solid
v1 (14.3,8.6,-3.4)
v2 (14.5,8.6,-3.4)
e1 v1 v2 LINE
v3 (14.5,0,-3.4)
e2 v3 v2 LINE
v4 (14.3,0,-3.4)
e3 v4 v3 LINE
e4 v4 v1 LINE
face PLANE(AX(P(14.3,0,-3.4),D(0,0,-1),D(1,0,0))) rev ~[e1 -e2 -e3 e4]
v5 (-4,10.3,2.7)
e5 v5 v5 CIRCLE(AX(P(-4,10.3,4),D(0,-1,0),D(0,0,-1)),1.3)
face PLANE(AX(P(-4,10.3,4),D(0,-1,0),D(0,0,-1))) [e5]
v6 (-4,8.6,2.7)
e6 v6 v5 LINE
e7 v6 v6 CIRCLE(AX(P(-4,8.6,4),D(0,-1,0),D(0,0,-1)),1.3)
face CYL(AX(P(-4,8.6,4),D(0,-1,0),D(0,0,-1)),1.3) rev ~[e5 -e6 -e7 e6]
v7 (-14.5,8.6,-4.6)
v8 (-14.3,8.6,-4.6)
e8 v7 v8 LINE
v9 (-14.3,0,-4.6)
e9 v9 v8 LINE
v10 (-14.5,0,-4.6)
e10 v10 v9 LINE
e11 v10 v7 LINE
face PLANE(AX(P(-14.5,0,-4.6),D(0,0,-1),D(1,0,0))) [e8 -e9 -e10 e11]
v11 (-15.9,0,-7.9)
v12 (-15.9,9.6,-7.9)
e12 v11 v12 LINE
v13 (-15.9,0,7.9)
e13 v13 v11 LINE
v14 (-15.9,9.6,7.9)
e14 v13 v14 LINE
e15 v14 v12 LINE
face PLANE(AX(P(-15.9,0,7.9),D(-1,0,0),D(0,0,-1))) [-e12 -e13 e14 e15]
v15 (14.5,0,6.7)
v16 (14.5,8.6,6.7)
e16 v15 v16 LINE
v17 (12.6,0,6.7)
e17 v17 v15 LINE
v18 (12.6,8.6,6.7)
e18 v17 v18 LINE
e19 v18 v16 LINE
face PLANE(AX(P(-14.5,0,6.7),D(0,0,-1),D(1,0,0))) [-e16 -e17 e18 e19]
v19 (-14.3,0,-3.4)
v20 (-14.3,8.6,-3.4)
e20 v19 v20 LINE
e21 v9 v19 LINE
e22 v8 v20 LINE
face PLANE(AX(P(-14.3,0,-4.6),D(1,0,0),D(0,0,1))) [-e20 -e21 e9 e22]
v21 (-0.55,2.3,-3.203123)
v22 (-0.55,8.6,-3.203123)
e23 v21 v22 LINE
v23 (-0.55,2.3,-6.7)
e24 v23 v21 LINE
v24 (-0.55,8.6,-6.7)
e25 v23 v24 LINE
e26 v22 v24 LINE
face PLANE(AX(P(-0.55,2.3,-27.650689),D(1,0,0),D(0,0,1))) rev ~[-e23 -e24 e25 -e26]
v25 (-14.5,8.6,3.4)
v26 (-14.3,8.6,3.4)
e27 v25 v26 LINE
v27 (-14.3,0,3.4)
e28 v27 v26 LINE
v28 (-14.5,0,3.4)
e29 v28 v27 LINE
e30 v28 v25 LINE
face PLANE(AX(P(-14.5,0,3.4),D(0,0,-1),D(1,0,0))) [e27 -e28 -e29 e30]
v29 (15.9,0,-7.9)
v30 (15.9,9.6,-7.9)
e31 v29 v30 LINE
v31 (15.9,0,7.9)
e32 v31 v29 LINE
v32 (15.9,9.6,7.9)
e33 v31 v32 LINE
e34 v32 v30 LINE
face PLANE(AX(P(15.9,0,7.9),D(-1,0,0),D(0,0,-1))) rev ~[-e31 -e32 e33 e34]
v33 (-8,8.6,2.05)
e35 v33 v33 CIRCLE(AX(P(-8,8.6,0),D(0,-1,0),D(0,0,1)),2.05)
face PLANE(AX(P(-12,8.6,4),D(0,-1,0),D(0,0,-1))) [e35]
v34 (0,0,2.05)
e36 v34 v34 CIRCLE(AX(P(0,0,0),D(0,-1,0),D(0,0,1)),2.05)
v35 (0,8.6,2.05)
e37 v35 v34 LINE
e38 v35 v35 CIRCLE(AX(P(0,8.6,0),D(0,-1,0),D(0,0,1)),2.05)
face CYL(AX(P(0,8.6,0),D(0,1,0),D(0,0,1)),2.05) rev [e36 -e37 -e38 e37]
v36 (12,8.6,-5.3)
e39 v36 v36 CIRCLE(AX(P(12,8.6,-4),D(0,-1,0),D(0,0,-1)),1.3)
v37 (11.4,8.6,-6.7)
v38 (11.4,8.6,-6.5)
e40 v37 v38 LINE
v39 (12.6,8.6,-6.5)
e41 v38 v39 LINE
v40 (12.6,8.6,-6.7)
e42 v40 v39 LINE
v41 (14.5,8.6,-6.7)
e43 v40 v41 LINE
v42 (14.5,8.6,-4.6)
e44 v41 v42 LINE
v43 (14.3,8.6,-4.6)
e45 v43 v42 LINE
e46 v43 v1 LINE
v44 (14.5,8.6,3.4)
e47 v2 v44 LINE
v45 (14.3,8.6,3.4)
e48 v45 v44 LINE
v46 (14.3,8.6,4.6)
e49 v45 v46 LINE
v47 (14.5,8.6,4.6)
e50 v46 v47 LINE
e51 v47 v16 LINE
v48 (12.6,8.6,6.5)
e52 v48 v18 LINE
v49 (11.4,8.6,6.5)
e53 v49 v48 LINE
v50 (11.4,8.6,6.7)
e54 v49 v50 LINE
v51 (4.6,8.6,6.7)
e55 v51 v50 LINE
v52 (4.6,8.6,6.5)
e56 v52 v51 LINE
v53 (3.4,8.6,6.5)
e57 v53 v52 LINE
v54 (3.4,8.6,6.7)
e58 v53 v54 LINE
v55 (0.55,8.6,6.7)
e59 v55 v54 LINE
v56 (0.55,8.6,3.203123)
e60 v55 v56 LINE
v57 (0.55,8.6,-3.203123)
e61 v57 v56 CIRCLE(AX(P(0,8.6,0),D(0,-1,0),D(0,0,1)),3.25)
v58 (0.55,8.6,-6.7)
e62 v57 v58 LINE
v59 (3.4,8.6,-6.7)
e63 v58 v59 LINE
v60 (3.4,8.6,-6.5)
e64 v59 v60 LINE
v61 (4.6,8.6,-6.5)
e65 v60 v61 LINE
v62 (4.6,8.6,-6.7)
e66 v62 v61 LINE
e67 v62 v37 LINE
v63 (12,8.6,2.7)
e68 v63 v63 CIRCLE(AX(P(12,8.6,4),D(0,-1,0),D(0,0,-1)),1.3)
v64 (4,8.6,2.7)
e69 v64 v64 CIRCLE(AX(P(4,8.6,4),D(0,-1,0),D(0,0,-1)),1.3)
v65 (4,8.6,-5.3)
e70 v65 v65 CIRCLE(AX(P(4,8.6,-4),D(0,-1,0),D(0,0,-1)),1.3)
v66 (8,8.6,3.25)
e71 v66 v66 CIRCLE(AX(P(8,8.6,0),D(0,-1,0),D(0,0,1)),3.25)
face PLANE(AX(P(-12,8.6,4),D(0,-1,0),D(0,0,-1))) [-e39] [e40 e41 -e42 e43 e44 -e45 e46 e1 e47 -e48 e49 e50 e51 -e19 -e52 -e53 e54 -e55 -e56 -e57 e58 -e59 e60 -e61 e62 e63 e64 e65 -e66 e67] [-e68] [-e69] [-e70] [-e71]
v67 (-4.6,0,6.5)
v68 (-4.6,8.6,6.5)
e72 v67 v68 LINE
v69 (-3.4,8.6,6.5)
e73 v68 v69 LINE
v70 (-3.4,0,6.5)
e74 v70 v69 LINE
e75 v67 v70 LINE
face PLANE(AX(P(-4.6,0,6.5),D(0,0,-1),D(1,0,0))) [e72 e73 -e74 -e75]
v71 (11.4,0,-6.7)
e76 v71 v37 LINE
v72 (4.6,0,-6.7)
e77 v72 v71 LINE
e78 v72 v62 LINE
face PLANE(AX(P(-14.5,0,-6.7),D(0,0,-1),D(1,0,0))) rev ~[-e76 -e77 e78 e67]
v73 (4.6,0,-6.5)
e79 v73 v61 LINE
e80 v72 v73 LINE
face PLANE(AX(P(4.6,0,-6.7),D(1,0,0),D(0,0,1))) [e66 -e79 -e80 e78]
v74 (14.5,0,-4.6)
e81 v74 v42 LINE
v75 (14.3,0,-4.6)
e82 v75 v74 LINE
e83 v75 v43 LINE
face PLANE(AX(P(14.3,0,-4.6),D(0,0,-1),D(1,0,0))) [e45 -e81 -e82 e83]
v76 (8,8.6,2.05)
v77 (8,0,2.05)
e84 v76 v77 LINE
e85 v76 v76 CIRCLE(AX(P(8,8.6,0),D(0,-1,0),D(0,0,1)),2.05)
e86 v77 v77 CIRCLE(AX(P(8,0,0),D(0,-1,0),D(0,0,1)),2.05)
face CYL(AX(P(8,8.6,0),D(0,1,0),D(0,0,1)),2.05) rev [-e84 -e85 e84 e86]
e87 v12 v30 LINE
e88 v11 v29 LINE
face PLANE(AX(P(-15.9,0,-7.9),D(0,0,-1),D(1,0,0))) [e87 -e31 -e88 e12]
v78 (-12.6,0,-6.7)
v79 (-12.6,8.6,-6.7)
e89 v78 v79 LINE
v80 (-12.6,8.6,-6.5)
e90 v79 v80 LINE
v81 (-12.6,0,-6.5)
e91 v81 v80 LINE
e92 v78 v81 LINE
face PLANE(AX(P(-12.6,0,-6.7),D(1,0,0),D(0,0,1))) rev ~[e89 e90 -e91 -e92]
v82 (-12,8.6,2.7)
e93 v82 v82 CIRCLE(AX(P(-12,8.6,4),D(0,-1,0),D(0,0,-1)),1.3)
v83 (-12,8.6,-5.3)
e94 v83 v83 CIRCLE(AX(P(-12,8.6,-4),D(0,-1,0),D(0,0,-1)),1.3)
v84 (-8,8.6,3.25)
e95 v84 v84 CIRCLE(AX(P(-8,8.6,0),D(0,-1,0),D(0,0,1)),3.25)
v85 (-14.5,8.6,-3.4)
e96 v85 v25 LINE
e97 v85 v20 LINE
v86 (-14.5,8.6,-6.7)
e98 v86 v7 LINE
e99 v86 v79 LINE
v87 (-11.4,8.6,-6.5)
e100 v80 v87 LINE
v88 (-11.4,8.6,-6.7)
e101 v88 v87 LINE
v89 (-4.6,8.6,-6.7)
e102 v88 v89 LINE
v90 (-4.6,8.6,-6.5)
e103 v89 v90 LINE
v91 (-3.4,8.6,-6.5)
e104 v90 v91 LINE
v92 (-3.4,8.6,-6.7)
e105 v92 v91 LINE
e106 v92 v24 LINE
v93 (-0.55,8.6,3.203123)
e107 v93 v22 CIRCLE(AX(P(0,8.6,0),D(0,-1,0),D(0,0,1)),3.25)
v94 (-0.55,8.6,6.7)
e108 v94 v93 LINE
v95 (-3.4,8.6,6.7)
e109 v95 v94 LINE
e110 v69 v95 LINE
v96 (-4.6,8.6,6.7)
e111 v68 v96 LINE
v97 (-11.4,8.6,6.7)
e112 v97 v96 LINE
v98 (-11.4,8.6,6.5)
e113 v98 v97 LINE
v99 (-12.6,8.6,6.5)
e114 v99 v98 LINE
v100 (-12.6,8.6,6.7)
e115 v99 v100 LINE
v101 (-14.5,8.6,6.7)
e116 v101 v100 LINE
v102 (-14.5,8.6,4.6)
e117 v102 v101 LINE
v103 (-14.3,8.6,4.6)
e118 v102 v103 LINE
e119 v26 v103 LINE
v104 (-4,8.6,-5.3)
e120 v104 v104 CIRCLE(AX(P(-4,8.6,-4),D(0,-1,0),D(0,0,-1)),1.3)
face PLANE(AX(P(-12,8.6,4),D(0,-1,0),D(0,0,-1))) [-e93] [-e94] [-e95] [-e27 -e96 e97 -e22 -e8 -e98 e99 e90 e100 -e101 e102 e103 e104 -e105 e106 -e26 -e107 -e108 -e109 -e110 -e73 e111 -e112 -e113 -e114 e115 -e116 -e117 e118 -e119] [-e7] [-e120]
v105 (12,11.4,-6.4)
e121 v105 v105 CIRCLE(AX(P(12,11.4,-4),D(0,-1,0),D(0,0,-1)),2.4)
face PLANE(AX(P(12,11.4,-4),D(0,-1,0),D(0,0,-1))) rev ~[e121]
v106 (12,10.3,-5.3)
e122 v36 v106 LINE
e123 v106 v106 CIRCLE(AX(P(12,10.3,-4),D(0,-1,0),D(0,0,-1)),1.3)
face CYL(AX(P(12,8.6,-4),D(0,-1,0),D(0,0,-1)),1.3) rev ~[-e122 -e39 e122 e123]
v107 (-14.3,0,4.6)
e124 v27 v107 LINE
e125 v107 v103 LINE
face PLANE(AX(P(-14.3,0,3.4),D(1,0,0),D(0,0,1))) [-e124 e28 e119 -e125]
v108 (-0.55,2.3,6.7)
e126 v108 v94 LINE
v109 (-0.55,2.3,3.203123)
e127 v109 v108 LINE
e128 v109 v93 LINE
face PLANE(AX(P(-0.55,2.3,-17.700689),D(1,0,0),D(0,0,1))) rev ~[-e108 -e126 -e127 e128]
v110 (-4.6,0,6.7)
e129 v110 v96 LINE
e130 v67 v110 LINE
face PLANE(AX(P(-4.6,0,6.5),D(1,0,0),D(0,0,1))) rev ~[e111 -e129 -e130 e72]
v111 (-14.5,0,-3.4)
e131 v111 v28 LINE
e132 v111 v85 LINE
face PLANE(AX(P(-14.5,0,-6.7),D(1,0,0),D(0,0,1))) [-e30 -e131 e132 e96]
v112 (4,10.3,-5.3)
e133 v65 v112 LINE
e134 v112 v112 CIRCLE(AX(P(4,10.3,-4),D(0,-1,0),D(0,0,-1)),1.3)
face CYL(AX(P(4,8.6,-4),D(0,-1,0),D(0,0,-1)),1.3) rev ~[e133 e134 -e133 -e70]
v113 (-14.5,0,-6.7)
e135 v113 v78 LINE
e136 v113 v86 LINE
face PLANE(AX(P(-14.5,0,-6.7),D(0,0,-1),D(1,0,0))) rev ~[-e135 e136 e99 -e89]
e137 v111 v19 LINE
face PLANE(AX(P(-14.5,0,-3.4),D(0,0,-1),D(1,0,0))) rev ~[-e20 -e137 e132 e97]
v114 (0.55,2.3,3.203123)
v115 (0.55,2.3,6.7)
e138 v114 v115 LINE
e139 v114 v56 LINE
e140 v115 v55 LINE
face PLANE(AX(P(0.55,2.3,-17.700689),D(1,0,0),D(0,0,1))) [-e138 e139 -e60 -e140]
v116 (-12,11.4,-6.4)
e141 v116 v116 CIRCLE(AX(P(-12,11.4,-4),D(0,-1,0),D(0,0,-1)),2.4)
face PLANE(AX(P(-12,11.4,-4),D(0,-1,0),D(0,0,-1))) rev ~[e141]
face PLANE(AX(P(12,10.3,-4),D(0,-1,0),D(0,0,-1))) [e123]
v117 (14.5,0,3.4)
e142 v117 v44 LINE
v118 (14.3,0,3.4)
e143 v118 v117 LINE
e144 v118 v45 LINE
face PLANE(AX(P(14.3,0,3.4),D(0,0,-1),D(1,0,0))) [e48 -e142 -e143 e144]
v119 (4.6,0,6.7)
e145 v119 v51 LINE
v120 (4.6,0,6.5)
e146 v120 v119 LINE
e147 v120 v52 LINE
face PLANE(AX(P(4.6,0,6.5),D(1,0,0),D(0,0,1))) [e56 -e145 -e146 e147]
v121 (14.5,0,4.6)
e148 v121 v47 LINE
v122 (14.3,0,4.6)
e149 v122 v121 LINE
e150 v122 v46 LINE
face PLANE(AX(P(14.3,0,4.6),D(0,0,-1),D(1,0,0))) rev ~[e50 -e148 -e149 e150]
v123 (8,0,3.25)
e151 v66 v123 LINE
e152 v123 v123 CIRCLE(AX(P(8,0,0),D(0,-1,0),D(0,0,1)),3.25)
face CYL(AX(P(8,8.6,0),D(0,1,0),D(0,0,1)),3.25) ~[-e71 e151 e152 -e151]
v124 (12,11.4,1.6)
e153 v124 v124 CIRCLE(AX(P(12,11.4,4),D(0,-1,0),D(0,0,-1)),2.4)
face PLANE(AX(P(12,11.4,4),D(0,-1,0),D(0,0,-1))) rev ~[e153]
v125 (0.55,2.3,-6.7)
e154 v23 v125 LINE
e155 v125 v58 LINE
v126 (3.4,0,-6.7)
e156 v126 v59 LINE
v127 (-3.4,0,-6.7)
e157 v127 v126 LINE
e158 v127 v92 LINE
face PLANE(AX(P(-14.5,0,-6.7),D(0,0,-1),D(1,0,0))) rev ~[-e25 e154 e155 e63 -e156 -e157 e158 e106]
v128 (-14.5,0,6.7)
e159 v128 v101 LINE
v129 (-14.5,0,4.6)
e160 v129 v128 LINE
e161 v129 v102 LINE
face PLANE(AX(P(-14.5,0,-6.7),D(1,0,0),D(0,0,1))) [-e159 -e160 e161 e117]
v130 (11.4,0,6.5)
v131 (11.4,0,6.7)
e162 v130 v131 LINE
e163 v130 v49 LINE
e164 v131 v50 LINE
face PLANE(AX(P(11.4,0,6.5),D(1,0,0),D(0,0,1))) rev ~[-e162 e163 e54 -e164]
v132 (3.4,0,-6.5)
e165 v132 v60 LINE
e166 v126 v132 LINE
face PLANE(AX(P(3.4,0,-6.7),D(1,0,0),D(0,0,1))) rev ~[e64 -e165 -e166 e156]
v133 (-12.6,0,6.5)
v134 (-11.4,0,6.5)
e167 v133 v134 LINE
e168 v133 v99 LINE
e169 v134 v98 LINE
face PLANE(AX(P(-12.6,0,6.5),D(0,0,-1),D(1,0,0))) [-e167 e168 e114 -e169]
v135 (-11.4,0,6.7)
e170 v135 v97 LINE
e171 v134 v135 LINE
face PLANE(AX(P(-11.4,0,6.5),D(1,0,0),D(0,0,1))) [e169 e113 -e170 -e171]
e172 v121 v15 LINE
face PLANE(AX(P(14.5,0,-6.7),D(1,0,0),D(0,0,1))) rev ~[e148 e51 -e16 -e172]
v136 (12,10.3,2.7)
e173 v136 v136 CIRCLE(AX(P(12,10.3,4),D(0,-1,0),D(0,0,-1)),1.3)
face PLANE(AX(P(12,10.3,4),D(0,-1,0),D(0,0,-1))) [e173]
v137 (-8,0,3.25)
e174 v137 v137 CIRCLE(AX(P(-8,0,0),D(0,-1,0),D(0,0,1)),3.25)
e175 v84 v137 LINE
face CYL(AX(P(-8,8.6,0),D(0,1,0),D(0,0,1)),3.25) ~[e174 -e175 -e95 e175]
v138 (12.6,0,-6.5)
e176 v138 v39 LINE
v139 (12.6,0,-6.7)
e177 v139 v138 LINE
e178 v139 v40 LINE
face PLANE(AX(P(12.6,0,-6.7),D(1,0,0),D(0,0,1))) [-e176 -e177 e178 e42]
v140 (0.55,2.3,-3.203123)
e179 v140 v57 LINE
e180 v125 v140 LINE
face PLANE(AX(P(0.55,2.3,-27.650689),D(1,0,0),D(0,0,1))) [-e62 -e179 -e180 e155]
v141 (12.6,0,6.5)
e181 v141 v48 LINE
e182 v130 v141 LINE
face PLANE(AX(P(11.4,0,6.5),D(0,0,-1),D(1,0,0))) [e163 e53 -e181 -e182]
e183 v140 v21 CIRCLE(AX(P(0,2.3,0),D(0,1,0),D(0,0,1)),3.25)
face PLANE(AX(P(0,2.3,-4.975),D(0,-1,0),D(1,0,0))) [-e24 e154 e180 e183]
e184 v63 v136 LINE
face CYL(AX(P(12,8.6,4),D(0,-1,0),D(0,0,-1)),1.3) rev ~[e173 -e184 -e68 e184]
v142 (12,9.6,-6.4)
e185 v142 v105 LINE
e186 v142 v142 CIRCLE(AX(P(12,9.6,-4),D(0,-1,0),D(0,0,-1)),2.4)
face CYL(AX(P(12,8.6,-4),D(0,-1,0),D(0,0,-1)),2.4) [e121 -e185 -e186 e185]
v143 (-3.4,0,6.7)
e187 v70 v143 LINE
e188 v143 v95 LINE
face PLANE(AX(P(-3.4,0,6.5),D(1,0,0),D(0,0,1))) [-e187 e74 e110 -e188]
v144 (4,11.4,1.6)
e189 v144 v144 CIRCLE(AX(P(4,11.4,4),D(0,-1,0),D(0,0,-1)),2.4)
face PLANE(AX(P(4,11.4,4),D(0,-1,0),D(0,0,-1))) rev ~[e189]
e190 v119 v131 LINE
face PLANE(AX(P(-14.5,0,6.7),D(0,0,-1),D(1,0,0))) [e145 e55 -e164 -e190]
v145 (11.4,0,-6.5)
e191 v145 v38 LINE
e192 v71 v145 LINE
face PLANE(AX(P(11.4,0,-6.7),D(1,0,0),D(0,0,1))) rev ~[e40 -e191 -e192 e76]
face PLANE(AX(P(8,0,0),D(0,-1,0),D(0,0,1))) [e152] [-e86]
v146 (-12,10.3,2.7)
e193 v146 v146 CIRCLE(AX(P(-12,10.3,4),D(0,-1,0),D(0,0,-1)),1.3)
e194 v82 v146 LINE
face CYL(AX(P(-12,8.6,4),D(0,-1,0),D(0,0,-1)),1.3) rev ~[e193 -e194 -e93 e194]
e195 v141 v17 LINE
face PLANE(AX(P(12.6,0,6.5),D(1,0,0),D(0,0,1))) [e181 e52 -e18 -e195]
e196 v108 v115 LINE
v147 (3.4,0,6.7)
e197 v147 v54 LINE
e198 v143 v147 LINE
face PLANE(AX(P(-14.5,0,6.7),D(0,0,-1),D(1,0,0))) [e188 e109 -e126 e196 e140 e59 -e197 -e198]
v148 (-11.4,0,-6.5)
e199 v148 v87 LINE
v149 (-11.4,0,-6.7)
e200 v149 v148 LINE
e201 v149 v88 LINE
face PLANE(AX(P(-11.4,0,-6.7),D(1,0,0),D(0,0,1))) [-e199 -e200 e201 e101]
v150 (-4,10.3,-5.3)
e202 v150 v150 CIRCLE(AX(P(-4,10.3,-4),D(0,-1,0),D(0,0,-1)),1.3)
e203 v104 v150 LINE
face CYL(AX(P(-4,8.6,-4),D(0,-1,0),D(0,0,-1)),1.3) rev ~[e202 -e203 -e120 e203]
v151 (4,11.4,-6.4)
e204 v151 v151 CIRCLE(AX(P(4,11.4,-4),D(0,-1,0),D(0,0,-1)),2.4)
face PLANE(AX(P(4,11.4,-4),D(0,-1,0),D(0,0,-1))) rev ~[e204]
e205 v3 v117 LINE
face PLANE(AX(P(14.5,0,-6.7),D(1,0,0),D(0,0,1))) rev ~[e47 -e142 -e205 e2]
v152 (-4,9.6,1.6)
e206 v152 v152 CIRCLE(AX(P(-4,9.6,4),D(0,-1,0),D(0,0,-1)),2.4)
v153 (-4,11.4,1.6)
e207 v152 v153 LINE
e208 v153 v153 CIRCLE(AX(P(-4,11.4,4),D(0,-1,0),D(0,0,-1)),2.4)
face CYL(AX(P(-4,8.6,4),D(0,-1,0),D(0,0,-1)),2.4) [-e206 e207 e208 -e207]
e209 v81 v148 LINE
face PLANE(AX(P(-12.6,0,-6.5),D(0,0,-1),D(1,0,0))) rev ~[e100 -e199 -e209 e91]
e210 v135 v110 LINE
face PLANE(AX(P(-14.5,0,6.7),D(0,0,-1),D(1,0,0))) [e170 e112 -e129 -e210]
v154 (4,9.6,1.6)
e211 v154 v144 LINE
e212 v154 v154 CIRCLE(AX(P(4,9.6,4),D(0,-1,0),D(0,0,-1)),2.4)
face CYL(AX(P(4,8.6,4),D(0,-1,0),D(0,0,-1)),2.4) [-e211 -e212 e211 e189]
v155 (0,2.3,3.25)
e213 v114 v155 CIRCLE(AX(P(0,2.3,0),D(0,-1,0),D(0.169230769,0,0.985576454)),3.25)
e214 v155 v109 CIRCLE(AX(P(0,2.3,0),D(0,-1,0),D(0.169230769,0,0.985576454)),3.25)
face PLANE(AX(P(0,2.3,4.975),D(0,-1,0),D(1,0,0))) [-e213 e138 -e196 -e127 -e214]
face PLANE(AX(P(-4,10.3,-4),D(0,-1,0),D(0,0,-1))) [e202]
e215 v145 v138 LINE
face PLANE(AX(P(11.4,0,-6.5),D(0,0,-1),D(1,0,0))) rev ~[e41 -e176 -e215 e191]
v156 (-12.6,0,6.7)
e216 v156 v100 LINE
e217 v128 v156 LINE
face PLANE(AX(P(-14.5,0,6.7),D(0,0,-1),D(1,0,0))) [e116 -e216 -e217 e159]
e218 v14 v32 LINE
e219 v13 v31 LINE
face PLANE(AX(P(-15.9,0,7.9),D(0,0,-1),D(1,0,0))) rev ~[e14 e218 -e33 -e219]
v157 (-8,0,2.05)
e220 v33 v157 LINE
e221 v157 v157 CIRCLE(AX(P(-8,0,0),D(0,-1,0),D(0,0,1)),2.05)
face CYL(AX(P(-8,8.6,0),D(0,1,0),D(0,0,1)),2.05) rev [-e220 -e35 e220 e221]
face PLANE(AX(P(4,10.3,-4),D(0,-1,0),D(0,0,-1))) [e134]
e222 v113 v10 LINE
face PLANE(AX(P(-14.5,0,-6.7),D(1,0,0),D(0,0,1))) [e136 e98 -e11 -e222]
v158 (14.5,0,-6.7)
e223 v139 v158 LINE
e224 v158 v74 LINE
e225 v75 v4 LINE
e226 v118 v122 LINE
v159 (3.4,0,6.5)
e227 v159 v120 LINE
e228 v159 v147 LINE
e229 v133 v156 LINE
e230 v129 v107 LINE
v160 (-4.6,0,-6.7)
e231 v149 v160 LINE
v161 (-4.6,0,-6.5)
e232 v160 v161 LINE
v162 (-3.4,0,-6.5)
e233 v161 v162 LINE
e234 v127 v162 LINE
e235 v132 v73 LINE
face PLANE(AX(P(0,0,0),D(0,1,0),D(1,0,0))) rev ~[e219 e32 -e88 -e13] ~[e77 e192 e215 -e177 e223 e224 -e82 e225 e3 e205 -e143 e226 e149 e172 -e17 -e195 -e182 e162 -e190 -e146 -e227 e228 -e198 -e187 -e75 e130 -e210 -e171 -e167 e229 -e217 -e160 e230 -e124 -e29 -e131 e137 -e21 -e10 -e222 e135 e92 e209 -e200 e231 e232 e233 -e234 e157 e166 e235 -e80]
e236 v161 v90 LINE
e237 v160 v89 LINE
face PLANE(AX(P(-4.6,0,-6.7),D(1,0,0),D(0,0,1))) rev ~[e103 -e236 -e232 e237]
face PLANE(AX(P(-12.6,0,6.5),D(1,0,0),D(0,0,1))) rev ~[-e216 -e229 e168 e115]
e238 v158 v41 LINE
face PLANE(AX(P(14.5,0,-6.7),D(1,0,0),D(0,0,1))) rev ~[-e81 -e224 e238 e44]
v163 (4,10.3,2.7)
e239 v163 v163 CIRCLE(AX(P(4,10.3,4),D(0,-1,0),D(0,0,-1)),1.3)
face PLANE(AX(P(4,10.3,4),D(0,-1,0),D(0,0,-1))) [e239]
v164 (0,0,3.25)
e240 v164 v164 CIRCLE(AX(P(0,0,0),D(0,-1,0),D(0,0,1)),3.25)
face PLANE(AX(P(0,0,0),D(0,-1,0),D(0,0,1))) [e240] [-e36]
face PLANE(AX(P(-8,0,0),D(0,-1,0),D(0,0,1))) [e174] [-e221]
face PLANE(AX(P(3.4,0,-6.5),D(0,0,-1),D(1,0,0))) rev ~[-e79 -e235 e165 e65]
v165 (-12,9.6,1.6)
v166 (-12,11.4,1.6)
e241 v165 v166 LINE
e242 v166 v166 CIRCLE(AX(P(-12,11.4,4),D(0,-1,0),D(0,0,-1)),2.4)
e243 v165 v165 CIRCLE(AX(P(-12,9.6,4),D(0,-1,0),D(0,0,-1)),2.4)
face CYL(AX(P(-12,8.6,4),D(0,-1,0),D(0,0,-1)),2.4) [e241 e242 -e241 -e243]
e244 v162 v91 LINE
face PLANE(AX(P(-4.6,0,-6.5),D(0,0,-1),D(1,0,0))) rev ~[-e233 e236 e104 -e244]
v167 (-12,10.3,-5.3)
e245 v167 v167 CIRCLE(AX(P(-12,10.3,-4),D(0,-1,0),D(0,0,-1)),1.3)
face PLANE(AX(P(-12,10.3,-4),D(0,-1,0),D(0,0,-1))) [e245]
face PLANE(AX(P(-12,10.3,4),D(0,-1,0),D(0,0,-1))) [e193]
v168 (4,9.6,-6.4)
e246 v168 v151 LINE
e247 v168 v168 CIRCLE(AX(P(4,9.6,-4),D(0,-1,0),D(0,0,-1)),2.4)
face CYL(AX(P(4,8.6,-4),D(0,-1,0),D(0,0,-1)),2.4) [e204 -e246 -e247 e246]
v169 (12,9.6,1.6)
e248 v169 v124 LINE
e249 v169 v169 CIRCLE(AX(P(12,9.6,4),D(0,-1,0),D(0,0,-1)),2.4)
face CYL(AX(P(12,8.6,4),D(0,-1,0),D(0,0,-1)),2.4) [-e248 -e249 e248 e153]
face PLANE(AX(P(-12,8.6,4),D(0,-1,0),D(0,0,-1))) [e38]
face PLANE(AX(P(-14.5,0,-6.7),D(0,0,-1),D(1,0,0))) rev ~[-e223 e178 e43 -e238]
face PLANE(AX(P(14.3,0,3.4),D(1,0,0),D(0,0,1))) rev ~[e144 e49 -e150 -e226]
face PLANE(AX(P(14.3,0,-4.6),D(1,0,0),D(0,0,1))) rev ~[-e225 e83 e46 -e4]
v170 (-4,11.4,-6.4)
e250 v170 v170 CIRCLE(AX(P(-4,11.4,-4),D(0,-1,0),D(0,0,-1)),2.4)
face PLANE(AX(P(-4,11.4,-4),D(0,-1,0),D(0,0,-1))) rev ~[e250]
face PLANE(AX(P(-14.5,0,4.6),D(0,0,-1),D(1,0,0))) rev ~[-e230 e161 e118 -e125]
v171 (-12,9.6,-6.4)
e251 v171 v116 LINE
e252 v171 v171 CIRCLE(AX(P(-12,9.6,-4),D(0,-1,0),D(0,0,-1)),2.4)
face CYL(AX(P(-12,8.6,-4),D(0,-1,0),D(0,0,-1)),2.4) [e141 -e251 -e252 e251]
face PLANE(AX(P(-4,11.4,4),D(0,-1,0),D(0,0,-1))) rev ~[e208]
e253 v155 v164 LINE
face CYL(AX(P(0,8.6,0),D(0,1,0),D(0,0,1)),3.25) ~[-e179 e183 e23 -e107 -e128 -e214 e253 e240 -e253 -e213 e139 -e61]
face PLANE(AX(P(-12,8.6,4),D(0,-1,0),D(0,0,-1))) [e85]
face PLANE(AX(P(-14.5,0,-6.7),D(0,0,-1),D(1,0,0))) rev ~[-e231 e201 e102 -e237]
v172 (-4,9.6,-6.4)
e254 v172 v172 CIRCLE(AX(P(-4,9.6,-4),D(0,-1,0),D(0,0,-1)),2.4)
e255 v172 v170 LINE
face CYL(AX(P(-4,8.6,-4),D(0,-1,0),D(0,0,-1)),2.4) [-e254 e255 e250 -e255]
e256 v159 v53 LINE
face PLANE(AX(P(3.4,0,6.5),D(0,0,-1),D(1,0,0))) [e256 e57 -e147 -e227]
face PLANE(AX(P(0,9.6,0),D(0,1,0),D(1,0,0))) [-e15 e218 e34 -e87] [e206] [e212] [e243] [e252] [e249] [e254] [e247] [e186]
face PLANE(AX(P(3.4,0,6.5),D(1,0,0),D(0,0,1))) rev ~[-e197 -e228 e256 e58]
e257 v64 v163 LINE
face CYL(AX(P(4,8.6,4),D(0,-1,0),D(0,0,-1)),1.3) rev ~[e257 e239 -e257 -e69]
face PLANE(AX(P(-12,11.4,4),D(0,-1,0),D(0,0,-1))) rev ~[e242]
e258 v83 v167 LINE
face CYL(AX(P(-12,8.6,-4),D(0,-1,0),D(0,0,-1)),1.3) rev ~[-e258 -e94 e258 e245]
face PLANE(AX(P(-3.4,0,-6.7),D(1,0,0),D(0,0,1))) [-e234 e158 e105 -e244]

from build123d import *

# Parameters (mm, degrees)
SKETCH1_W           = 31.8
SKETCH1_H           = 15.8
BOSS_EXTRUDE1_DEPTH = 9.6
SKETCH2_W           = 29
SKETCH2_H           = 13.4
CUT_EXTRUDE1_DEPTH  = 8.6
SKETCH3_R           = 2.4
BOSS_EXTRUDE2_DEPTH = 2.8
SKETCH3_3_R         = 1.3
CUT_EXTRUDE2_DEPTH  = 1.7
SKETCH4_R           = 3.25
SKETCH4_R_2         = 2.05
BOSS_EXTRUDE3_DEPTH = 8.6
RIB1_REACH          = 21.951
SKETCH5_WALLS_W     = 1.1
SKETCH5_WALLS_H     = 45.351378422
SKETCH6_W           = 1.2
SKETCH6_H           = 0.2
SKETCH6_W_2         = 0.2
SKETCH6_H_2         = 1.2
BOSS_EXTRUDE4_DEPTH = 8.6


with BuildPart() as part:
    # Sketch1 → Boss-Extrude1 (new body)
    with BuildSketch(Plane(origin=(0, 0, 0), x_dir=(1, 0, 0), z_dir=(0, 1, 0))):
        Rectangle(SKETCH1_W, SKETCH1_H)
    extrude(amount=BOSS_EXTRUDE1_DEPTH)

    # Sketch2 → Cut-Extrude1 (cut)
    with BuildSketch(Plane.XZ):
        Rectangle(SKETCH2_W, SKETCH2_H)
    extrude(amount=-CUT_EXTRUDE1_DEPTH, mode=Mode.SUBTRACT)

    # Sketch3 → Boss-Extrude2 (add)
    with BuildSketch(Plane.XZ.offset(-8.6)):
        with Locations(Location((-12, 4, 0), (0, 0, 270))):
            Circle(SKETCH3_R)
        with Locations(Location((-4, 4, 0), (0, 0, 270))):
            Circle(SKETCH3_R)
        with Locations(Location((4, 4, 0), (0, 0, 270))):
            Circle(SKETCH3_R)
        with Locations(Location((12, 4, 0), (0, 0, 270))):
            Circle(SKETCH3_R)
        with Locations(Location((12, -4, 0), (0, 0, 270))):
            Circle(SKETCH3_R)
        with Locations(Location((4, -4, 0), (0, 0, 270))):
            Circle(SKETCH3_R)
        with Locations(Location((-4, -4, 0), (0, 0, 270))):
            Circle(SKETCH3_R)
        with Locations(Location((-12, -4, 0), (0, 0, 270))):
            Circle(SKETCH3_R)
    extrude(amount=-BOSS_EXTRUDE2_DEPTH)

    # Sketch3<3> → Cut-Extrude2 (cut)
    with BuildSketch(Plane.XZ.offset(-8.6)):
        with Locations(Location((-12, 4, 0), (0, 0, 270))):
            Circle(SKETCH3_3_R)
        with Locations(Location((-4, 4, 0), (0, 0, 270))):
            Circle(SKETCH3_3_R)
        with Locations(Location((4, 4, 0), (0, 0, 270))):
            Circle(SKETCH3_3_R)
        with Locations(Location((12, 4, 0), (0, 0, 270))):
            Circle(SKETCH3_3_R)
        with Locations(Location((12, -4, 0), (0, 0, 270))):
            Circle(SKETCH3_3_R)
        with Locations(Location((4, -4, 0), (0, 0, 270))):
            Circle(SKETCH3_3_R)
        with Locations(Location((-4, -4, 0), (0, 0, 270))):
            Circle(SKETCH3_3_R)
        with Locations(Location((-12, -4, 0), (0, 0, 270))):
            Circle(SKETCH3_3_R)
    extrude(amount=-CUT_EXTRUDE2_DEPTH, mode=Mode.SUBTRACT)

    # Sketch4 → Boss-Extrude3 (add)
    # profile 1 of 3: a face of its own
    with BuildSketch(Plane.XZ.offset(-8.6)):
        with Locations(Location((0, 0, 0), (0, 0, 90))):
            Circle(SKETCH4_R)
        with Locations(Location((0, 0, 0), (0, 0, 90))):
            Circle(SKETCH4_R_2, mode=Mode.SUBTRACT)
    # profile 2 of 3: a face of its own
    with BuildSketch(Plane.XZ.offset(-8.6)):
        with Locations(Location((-8, 0, 0), (0, 0, 90))):
            Circle(SKETCH4_R)
        with Locations(Location((-8, 0, 0), (0, 0, 90))):
            Circle(SKETCH4_R_2, mode=Mode.SUBTRACT)
    # profile 3 of 3: a face of its own
    with BuildSketch(Plane.XZ.offset(-8.6)):
        with Locations(Location((8, 0, 0), (0, 0, 90))):
            Circle(SKETCH4_R)
        with Locations(Location((8, 0, 0), (0, 0, 90))):
            Circle(SKETCH4_R_2, mode=Mode.SUBTRACT)
    extrude(amount=BOSS_EXTRUDE3_DEPTH)

    # Sketch5 walls → Rib1 (add, up to next)
    with BuildSketch(Plane.XZ.offset(-2.3), mode=Mode.PRIVATE) as rib1_sk1:
        with Locations((0, 4.975)):
            Rectangle(SKETCH5_WALLS_W, SKETCH5_WALLS_H)
    rib1_tool1 = extrude(rib1_sk1.sketch, amount=-RIB1_REACH, mode=Mode.PRIVATE) - part.part
    # Sketch5 walls → Rib1 (add, up to next)
    with BuildSketch(Plane.XZ.offset(-2.3), mode=Mode.PRIVATE) as rib1_sk2:
        with Locations((0, -4.975)):
            Rectangle(SKETCH5_WALLS_W, SKETCH5_WALLS_H)
    rib1_tool2 = extrude(rib1_sk2.sketch, amount=-RIB1_REACH, mode=Mode.PRIVATE) - part.part
    add(rib1_tool1.solids().sort_by_distance((0, 2.3, 4.975))[0])
    add(rib1_tool2.solids().sort_by_distance((0, 2.3, -4.975))[0])

    # Sketch6 → Boss-Extrude4 (add)
    with BuildSketch(Plane.XZ):
        with Locations((-12, 6.6)):
            Rectangle(SKETCH6_W, SKETCH6_H)
        with Locations((-4, 6.6)):
            Rectangle(SKETCH6_W, SKETCH6_H)
        with Locations((4, 6.6)):
            Rectangle(SKETCH6_W, SKETCH6_H)
        with Locations((12, 6.6)):
            Rectangle(SKETCH6_W, SKETCH6_H)
        with Locations((12, -6.6)):
            Rectangle(SKETCH6_W, SKETCH6_H)
        with Locations((4, -6.6)):
            Rectangle(SKETCH6_W, SKETCH6_H)
        with Locations((-4, -6.6)):
            Rectangle(SKETCH6_W, SKETCH6_H)
        with Locations((-12, -6.6)):
            Rectangle(SKETCH6_W, SKETCH6_H)
        with Locations((-14.4, -4)):
            Rectangle(SKETCH6_W_2, SKETCH6_H_2)
        with Locations((-14.4, 4)):
            Rectangle(SKETCH6_W_2, SKETCH6_H_2)
        with Locations((14.4, -4)):
            Rectangle(SKETCH6_W_2, SKETCH6_H_2)
        with Locations((14.4, 4)):
            Rectangle(SKETCH6_W_2, SKETCH6_H_2)
    extrude(amount=-BOSS_EXTRUDE4_DEPTH)


solid = part.part
